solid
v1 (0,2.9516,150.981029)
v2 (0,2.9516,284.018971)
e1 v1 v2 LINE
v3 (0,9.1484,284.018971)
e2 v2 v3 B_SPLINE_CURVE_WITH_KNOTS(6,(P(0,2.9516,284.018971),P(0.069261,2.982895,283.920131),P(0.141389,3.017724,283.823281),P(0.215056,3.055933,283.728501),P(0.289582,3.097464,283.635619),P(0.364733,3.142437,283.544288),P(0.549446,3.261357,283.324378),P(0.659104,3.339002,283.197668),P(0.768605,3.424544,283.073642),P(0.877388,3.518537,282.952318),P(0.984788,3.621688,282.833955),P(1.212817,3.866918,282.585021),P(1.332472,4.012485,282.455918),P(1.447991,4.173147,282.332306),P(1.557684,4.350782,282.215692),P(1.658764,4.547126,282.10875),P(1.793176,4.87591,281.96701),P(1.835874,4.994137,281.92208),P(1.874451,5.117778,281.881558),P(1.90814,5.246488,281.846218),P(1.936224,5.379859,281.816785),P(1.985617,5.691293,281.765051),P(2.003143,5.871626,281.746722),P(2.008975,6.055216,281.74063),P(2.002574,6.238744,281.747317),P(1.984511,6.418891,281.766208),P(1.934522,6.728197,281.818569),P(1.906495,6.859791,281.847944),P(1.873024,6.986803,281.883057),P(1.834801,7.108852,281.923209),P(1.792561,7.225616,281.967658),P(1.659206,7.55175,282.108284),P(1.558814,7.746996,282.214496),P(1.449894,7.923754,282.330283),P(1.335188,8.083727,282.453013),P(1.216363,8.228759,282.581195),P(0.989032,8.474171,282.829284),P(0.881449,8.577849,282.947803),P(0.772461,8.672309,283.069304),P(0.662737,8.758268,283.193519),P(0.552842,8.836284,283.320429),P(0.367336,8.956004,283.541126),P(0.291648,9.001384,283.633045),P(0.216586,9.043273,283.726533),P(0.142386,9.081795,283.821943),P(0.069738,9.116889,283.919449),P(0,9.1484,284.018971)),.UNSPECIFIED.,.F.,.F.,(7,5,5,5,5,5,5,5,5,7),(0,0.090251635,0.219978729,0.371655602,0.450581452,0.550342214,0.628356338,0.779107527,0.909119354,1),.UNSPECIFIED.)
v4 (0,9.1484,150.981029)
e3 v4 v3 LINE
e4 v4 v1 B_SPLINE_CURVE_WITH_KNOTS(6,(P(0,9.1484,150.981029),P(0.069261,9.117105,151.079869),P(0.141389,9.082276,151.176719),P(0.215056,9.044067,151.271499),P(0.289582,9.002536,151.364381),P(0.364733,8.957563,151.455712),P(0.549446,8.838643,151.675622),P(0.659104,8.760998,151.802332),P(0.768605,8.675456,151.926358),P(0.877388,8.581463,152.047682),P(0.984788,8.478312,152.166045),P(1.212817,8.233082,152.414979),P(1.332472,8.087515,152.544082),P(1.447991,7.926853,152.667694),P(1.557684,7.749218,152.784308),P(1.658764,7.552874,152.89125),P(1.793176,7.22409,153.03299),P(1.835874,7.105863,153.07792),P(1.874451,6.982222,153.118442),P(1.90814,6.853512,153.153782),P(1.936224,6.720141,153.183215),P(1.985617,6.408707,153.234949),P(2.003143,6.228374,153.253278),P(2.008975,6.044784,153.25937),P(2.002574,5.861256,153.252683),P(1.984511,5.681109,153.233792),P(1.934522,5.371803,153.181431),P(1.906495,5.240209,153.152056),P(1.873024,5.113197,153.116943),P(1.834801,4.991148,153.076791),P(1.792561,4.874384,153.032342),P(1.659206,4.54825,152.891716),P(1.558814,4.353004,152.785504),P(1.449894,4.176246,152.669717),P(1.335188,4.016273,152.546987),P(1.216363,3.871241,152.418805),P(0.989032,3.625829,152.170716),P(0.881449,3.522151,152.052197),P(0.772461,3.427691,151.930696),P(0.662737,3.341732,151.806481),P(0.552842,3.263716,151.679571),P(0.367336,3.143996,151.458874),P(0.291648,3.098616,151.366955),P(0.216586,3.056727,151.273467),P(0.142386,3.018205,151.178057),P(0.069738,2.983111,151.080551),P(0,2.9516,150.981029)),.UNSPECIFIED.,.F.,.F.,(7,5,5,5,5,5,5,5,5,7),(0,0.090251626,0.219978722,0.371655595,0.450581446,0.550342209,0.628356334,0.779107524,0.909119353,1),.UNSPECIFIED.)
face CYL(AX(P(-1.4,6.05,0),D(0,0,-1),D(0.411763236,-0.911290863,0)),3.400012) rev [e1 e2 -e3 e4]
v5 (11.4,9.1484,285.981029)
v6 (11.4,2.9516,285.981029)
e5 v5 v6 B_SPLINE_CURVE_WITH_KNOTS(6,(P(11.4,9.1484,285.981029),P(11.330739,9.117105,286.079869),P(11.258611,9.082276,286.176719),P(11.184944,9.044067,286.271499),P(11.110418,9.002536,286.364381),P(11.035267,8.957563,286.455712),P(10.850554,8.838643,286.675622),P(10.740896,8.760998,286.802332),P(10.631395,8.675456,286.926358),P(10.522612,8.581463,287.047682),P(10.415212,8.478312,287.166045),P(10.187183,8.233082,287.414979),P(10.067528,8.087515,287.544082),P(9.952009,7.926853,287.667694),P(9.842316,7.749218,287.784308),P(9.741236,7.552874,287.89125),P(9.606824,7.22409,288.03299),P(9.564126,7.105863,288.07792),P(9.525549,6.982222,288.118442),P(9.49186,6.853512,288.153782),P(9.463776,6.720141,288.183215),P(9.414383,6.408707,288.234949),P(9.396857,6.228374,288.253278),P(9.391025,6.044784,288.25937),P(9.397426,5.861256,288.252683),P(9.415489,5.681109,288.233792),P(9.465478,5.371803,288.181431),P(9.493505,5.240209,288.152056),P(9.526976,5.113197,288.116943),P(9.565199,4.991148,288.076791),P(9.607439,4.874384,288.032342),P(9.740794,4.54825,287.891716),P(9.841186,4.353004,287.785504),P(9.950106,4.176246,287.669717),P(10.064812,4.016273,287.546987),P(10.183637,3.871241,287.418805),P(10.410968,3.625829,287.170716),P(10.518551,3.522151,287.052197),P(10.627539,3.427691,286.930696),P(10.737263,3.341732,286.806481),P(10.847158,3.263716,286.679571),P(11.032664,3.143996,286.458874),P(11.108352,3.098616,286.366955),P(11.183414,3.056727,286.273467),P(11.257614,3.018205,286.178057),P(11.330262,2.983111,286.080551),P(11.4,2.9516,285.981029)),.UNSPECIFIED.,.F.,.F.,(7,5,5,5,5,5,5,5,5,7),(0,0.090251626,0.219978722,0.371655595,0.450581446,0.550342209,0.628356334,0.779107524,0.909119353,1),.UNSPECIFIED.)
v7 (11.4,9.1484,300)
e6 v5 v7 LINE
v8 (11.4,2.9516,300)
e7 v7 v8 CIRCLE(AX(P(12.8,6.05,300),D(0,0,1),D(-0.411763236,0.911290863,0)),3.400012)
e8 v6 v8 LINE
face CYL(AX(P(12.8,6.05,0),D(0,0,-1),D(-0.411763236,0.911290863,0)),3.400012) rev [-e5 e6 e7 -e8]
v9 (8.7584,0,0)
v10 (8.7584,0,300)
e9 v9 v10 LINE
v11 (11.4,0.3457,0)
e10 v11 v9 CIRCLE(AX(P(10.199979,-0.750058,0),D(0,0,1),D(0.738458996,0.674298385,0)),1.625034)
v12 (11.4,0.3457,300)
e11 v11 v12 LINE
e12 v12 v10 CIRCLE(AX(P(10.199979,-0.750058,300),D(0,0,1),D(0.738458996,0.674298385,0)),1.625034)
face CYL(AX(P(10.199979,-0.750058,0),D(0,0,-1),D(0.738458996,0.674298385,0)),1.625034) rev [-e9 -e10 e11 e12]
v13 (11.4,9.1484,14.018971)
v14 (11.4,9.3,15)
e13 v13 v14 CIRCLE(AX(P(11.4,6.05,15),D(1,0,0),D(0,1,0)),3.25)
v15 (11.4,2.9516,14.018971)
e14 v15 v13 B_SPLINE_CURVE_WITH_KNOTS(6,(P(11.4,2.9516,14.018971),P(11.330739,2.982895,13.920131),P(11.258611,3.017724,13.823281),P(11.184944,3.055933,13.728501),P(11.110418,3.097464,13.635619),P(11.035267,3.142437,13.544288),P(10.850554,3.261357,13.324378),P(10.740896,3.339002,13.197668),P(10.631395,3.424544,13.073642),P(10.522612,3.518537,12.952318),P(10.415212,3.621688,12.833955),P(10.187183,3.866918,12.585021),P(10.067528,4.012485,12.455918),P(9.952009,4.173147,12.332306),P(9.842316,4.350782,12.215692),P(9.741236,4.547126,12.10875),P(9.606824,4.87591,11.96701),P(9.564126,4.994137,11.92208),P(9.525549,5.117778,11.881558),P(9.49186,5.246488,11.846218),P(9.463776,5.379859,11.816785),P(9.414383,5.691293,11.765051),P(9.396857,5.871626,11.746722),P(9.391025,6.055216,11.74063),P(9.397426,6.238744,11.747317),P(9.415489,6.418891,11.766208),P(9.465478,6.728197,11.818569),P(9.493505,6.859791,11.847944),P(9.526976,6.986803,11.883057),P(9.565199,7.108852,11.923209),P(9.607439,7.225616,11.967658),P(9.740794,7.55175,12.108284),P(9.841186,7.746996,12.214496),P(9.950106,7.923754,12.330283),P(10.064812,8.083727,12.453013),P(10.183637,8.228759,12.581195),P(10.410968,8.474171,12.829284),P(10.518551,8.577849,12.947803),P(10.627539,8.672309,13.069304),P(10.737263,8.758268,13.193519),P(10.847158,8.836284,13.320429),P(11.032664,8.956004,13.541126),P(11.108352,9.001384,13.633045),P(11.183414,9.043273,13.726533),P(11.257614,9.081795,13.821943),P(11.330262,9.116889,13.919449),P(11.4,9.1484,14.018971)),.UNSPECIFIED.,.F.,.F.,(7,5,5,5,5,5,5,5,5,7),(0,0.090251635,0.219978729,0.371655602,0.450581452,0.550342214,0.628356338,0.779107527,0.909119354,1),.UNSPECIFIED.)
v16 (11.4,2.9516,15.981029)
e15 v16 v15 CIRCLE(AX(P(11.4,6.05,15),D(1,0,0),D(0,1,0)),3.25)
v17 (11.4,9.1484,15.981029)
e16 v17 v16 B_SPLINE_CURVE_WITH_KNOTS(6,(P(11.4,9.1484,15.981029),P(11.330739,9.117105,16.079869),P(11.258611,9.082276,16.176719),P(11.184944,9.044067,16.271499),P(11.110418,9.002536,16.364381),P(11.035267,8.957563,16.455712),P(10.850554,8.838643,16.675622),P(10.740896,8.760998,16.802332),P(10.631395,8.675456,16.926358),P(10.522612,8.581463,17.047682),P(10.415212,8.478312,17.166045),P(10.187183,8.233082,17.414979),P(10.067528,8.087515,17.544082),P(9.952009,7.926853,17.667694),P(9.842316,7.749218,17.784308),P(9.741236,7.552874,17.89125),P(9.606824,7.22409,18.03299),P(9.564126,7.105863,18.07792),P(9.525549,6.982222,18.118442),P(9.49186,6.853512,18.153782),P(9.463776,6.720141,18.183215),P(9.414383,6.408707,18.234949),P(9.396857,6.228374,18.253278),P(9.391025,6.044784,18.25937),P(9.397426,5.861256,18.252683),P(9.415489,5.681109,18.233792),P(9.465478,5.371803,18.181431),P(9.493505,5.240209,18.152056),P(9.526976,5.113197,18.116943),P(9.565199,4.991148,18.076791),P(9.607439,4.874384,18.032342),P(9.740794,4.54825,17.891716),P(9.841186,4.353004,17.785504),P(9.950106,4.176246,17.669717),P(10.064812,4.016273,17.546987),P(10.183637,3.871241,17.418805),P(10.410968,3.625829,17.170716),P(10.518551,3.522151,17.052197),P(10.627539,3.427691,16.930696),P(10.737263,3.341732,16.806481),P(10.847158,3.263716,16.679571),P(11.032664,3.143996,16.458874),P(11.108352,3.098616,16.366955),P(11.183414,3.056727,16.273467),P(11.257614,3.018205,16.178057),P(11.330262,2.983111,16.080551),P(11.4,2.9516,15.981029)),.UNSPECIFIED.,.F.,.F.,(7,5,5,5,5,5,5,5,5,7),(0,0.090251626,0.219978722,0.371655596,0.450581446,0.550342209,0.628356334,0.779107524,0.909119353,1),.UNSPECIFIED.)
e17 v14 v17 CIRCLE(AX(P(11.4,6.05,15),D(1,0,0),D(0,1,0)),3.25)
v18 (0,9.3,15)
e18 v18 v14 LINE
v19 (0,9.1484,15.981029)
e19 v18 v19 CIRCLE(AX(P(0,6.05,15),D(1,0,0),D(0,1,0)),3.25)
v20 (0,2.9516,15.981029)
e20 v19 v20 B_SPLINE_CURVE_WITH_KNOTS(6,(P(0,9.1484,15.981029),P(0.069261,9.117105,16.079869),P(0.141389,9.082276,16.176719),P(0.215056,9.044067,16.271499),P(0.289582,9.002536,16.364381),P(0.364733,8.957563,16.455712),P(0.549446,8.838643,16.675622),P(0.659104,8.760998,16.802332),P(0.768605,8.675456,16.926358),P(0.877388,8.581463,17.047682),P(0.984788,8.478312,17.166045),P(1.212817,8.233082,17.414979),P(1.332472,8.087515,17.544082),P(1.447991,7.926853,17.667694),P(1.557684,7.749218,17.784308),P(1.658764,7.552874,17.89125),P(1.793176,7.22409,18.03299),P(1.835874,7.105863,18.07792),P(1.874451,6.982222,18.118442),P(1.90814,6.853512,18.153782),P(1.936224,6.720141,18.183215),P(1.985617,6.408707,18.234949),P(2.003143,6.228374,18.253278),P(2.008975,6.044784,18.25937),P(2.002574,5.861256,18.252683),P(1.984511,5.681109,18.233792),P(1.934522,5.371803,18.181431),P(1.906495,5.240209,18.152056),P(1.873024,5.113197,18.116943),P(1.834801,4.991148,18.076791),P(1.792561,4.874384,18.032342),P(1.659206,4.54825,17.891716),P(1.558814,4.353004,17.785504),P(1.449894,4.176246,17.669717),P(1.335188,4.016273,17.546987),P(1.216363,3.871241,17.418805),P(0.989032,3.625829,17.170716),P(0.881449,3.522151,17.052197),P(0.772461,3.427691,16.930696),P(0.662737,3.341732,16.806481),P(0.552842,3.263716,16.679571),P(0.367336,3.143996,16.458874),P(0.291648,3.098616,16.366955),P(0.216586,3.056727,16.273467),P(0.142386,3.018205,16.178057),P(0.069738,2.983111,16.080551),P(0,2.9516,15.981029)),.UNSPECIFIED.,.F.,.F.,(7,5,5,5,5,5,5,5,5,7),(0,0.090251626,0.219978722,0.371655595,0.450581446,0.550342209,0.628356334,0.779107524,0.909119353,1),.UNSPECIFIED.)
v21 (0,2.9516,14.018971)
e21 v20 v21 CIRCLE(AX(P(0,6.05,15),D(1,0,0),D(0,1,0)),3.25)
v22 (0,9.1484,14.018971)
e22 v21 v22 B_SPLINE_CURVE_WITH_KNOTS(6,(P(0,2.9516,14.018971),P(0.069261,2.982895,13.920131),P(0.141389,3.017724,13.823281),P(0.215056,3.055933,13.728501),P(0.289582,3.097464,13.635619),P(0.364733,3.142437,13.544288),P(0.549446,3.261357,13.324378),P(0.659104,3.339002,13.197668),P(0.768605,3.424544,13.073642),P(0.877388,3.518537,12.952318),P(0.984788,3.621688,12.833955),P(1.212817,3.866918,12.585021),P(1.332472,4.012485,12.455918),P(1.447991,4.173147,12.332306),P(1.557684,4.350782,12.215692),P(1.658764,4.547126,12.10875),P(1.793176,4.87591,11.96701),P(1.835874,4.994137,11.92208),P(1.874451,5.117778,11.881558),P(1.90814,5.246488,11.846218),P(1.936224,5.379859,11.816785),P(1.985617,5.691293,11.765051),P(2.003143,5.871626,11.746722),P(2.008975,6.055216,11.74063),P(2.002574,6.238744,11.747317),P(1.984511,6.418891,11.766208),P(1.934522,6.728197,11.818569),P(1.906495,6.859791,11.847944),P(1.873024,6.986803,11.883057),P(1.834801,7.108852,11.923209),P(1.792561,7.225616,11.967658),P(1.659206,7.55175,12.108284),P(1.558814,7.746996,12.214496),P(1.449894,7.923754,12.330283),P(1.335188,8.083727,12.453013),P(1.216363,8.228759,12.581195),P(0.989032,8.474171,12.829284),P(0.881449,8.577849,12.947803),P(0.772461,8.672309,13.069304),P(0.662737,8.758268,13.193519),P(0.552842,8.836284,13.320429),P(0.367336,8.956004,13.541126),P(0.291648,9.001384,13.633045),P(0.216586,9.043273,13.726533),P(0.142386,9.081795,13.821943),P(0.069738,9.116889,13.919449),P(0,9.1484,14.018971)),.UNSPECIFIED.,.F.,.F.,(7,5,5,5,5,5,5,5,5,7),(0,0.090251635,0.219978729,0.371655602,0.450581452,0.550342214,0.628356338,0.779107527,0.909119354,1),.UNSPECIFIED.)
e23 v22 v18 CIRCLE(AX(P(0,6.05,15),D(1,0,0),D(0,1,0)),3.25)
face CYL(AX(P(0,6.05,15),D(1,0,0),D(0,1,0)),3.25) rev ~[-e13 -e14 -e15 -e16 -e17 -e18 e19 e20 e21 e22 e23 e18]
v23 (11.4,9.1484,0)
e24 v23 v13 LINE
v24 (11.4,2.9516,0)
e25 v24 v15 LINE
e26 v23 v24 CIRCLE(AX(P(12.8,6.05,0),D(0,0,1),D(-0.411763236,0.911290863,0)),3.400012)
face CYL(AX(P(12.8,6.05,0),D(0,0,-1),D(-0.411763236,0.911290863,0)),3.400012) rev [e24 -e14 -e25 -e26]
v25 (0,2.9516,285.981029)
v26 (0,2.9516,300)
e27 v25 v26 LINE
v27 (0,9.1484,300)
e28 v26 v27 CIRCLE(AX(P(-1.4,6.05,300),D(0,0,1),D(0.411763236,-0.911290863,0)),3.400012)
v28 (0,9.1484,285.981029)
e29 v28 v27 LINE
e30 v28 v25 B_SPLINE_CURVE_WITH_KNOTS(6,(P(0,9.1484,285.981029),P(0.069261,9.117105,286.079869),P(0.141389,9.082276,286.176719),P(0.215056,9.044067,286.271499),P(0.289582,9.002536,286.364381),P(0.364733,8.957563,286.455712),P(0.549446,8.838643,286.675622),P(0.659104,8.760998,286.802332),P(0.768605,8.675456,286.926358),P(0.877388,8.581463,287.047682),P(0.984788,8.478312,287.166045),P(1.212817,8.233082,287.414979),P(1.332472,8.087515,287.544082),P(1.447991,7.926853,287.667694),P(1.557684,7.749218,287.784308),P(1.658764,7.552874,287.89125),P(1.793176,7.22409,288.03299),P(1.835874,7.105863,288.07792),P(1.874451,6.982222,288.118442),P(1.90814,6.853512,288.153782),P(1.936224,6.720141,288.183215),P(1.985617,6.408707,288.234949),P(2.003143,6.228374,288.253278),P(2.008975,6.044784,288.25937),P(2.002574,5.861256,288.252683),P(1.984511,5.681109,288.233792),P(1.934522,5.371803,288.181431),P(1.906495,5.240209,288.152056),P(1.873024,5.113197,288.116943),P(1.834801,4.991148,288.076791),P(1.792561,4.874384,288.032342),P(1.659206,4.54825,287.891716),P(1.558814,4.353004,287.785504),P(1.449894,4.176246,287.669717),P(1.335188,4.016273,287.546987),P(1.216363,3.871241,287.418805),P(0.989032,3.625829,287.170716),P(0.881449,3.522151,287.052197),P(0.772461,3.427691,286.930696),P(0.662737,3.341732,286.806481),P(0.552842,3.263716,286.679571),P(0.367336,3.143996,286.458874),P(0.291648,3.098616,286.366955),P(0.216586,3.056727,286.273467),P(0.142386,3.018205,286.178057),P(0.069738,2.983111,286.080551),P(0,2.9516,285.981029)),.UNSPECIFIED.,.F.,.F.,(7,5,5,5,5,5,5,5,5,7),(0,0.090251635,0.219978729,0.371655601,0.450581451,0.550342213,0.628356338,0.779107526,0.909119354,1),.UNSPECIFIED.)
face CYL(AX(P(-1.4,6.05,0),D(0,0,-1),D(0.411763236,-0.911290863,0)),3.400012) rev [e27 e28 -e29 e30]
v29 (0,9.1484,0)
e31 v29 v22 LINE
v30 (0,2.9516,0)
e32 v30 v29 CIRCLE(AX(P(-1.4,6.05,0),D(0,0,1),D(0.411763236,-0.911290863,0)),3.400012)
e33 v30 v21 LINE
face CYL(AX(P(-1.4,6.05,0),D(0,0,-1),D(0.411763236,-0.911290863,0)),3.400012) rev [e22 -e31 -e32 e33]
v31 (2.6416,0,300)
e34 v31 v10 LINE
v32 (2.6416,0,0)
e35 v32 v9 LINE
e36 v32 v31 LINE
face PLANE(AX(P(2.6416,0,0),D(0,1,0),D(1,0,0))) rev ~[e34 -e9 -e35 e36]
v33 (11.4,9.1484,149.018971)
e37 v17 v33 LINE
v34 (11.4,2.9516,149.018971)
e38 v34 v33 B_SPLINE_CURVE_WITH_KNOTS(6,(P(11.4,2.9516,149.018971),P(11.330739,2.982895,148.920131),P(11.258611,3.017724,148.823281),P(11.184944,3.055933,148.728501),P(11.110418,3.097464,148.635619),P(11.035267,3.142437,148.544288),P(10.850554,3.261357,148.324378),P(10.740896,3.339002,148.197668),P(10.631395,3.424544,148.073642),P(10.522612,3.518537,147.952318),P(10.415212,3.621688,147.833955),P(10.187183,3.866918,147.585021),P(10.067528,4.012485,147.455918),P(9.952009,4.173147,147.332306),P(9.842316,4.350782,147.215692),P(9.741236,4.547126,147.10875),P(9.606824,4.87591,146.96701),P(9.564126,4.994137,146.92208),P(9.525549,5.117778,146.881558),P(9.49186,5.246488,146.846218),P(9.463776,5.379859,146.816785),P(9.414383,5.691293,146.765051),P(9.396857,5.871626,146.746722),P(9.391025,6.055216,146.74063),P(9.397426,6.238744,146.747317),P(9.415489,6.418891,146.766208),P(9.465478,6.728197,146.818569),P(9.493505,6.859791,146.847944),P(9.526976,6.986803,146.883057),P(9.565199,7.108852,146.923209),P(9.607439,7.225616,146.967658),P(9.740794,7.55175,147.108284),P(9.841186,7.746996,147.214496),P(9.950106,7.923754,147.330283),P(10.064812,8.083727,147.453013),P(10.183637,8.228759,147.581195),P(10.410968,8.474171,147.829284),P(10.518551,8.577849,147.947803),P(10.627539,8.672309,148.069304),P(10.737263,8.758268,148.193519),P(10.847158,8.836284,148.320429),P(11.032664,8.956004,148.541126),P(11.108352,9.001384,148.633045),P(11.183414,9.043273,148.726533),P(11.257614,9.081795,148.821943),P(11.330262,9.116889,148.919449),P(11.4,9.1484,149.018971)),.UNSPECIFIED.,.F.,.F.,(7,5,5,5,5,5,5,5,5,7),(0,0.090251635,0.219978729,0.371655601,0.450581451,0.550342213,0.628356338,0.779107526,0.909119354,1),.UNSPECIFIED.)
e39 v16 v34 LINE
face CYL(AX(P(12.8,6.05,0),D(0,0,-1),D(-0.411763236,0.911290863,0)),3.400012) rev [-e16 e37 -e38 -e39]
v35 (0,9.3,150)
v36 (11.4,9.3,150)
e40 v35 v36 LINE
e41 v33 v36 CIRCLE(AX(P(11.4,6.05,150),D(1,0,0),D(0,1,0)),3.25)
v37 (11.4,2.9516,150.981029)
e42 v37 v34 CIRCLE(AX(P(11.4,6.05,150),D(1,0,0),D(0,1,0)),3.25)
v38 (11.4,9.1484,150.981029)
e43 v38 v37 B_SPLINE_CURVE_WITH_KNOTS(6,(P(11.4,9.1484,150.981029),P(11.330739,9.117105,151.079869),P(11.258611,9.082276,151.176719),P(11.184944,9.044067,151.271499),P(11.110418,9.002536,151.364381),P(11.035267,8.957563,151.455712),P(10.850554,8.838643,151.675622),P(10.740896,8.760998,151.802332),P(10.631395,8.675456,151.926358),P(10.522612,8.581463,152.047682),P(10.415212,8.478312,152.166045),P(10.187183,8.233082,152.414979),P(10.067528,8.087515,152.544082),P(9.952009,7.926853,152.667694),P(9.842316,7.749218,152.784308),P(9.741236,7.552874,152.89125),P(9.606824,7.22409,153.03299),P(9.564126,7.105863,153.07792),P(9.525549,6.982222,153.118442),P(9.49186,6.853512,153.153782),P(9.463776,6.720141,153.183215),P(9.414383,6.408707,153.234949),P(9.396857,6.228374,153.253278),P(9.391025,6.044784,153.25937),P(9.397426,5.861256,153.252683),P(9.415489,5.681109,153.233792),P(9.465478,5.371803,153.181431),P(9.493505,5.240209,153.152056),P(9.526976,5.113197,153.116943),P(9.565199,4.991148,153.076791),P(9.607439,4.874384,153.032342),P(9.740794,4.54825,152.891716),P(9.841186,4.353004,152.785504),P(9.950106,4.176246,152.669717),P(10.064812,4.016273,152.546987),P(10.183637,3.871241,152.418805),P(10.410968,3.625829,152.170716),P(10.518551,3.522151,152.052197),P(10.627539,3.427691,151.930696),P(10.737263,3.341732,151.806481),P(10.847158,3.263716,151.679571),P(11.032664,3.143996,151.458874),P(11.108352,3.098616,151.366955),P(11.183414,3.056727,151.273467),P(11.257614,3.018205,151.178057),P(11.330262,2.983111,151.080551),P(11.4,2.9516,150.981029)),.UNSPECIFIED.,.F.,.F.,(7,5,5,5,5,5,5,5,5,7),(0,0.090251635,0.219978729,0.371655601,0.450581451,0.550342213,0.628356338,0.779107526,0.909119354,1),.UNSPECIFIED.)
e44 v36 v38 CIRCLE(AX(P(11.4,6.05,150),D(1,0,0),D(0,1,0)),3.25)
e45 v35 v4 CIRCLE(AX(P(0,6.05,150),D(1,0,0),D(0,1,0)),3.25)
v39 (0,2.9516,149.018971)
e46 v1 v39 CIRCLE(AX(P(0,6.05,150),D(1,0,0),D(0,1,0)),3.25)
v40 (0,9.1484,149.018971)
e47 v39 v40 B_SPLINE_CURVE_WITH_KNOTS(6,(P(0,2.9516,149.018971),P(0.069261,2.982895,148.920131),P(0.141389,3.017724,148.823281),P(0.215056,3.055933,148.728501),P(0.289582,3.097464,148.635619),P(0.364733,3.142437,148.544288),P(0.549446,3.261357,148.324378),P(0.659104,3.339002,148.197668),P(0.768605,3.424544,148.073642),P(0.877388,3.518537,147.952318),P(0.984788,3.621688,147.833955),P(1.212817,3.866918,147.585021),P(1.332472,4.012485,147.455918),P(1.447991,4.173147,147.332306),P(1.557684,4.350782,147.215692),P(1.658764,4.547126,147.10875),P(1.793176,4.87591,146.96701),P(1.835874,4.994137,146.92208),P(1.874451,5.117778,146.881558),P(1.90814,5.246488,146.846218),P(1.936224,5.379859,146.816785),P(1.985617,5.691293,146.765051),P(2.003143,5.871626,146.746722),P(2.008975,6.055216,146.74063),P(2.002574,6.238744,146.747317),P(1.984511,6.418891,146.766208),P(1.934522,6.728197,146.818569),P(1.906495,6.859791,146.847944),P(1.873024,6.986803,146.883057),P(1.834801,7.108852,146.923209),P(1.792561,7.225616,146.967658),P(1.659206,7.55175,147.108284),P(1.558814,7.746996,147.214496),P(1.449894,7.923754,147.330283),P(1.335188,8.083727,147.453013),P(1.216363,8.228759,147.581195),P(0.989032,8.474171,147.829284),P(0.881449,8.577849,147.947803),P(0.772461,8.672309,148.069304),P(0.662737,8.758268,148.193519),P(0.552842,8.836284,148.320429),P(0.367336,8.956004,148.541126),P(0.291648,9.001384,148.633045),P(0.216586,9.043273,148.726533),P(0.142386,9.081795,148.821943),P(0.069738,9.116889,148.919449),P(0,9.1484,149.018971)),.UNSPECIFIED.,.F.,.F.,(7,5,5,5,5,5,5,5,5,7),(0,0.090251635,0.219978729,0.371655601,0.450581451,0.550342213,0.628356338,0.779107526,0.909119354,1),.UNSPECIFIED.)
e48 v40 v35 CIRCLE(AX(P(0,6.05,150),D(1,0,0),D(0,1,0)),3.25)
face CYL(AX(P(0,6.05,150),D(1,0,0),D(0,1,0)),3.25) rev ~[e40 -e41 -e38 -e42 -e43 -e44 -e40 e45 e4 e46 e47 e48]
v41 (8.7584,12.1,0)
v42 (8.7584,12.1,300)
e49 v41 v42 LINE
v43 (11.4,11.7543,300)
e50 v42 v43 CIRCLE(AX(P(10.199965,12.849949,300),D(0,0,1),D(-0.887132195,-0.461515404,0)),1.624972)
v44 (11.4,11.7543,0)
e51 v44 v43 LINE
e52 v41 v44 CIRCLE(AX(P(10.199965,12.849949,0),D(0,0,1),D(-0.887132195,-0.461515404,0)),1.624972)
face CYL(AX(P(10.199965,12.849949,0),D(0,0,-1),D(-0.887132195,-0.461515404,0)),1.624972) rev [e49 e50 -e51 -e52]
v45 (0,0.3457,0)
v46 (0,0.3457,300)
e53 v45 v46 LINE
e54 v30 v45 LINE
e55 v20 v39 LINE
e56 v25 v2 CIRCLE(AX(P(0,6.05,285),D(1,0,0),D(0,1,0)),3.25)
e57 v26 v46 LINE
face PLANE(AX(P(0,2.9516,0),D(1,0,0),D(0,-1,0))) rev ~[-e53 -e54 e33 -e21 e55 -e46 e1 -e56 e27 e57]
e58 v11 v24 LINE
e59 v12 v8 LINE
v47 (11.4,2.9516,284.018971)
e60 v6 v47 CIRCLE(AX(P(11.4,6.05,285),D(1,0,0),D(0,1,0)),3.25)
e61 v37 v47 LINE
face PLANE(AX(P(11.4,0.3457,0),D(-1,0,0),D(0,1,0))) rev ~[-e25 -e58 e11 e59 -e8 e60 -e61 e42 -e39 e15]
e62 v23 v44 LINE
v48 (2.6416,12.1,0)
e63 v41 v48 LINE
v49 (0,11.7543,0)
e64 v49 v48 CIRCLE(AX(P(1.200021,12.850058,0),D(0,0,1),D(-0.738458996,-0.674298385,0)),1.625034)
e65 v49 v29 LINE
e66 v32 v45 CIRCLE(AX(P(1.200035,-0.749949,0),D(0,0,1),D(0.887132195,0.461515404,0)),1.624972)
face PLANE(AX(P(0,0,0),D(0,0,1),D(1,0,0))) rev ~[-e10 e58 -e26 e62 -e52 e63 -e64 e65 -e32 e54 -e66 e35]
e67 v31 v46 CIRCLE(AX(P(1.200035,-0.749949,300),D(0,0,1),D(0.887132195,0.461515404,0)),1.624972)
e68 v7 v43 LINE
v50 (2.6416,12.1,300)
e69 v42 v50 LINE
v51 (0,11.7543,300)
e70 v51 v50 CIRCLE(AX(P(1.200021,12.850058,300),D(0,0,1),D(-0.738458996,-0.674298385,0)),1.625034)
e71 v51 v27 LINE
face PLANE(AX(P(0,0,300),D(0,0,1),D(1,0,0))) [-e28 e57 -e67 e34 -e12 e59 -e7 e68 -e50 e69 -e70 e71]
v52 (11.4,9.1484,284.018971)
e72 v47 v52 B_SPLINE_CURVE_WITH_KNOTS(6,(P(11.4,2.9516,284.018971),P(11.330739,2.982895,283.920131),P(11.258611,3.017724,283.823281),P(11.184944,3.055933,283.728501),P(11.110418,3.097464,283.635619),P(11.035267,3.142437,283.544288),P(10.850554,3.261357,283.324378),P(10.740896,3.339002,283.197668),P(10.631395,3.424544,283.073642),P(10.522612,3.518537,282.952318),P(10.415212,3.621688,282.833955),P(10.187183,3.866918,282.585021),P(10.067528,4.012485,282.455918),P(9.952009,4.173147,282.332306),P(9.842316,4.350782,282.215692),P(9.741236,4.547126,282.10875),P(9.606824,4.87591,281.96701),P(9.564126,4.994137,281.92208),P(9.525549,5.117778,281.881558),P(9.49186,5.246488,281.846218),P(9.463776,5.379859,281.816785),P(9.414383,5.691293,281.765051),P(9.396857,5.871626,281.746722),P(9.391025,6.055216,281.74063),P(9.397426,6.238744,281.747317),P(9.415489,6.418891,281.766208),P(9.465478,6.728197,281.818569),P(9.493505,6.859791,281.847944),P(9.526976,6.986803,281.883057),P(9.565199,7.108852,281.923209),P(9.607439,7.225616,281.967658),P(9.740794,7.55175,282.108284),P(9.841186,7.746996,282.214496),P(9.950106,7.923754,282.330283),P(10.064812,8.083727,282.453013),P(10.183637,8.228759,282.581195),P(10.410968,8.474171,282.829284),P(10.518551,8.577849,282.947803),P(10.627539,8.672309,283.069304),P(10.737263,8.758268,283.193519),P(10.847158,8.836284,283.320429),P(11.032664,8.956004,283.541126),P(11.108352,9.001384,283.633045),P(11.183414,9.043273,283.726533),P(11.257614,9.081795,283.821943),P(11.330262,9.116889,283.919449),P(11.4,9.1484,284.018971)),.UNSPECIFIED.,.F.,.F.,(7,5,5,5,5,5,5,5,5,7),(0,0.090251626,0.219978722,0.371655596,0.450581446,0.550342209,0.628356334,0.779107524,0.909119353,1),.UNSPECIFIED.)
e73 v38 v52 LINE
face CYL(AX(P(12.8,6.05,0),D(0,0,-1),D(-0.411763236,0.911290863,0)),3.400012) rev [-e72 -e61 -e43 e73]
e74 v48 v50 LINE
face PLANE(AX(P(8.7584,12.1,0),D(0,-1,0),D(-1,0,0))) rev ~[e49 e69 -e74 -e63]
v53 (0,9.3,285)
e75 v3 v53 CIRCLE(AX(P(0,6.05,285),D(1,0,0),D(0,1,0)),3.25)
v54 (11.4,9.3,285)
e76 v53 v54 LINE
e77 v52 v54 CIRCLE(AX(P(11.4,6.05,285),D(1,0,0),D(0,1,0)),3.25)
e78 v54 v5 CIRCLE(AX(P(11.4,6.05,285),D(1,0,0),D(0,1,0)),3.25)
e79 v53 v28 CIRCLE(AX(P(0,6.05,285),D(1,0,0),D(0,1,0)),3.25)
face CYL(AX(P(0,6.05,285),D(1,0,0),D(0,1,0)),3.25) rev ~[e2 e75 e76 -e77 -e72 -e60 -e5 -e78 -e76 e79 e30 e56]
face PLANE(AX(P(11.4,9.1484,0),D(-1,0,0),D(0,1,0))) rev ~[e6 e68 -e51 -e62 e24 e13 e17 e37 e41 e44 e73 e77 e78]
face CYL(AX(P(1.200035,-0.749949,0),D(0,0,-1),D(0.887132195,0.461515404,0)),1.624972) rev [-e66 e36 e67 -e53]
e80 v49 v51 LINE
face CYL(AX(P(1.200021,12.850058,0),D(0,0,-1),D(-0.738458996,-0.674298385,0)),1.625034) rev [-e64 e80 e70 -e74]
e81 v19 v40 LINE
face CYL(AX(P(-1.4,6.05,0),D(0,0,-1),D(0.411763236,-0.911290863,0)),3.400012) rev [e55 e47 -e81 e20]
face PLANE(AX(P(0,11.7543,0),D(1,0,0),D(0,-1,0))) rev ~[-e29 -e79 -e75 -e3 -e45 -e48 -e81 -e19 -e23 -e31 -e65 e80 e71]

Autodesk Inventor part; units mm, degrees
sketch "Sketch_1" plane through (0, 0, 0) normal (0, 0, 1) x (1, 0, 0)
  line L0 (0, 2.9516) -> (0, 0.3457)
  arc A0 (2.6416, 0) -> (0, 0.3457) centre (1.2, -0.75) ccw
  line L1 (2.6416, 0) -> (8.7584, 0)
  arc A1 (11.4, 0.3457) -> (8.7584, 0) centre (10.2, -0.75) ccw
  line L2 (11.4, 0.3457) -> (11.4, 2.9516)
  arc A2 (11.4, 9.1484) -> (11.4, 2.9516) centre (12.8, 6.05) ccw
  line L3 (11.4, 9.1484) -> (11.4, 11.7543)
  arc A3 (8.7584, 12.1) -> (11.4, 11.7543) centre (10.2, 12.85) ccw
  line L4 (8.7584, 12.1) -> (2.6416, 12.1)
  arc A4 (0, 11.7543) -> (2.6416, 12.1) centre (1.2, 12.85) ccw
  line L5 (0, 11.7543) -> (0, 9.1484)
  arc A5 (0, 2.9516) -> (0, 9.1484) centre (-1.4, 6.05) ccw
extrude "Extrusion1" add sketch "Sketch_1" along normal blind 300
sketch "Sketch_3" plane through (0, 0, 15) normal (0, 0, 1) x (1, 0, 0)
  line L0 (11.4, 6.05) -> (0, 6.05)
  line L1 (0, 6.05) -> (0, 9.3)
  line L2 (0, 9.3) -> (11.4, 9.3)
  line L3 (11.4, 9.3) -> (11.4, 6.05)
  line L4 (11.4, 6.05) -> (0, 6.05)
revolve "Revolution1" cut sketch "Sketch_3" angle 360 about axis through (11.4, 6.05, 15) along (1, 0, 0)
pattern_linear "Rectangular Pattern1" count 3 spacing 135 along (0, 0, 1) of "Revolution1"
ref_plane "to_ball_1_XY" through (1.2, -0.75, 109.375) normal (0, 0, 1) x (1, 0, 0)
ref_plane "to_ball_1_YZ" through (1.2, -0.75, 109.375) normal (1, 0, 0) x (0, 1, 0)
ref_plane "to_ball_1_ZX" through (1.2, -0.75, 109.375) normal (0, 1, 0) x (0, 0, 1)
ref_plane "to_ball_2_XY" through (10.2, -0.75, 109.375) normal (0, 0, 1) x (1, 0, 0)
ref_plane "to_ball_2_YZ" through (10.2, -0.75, 109.375) normal (1, 0, 0) x (0, 1, 0)
ref_plane "to_ball_2_ZX" through (10.2, -0.75, 109.375) normal (0, 1, 0) x (0, 0, 1)
ref_plane "to_ball_3_XY" through (1.2, 12.85, 109.375) normal (0, 0, 1) x (1, 0, 0)
ref_plane "to_ball_3_YZ" through (1.2, 12.85, 109.375) normal (1, 0, 0) x (0, 1, 0)
ref_plane "to_ball_3_ZX" through (1.2, 12.85, 109.375) normal (0, 1, 0) x (0, 0, 1)
ref_plane "to_ball_4_XY" through (10.2, 12.85, 109.375) normal (0, 0, 1) x (1, 0, 0)
ref_plane "to_ball_4_YZ" through (10.2, 12.85, 109.375) normal (1, 0, 0) x (0, 1, 0)
ref_plane "to_ball_4_ZX" through (10.2, 12.85, 109.375) normal (0, 1, 0) x (0, 0, 1)
ref_plane "to_body_XY" through (5.6, 6.05, 150) normal (0, 0, 1) x (1, 0, 0)
ref_plane "to_body_YZ" through (5.6, 6.05, 150) normal (1, 0, 0) x (0, 1, 0)
ref_plane "to_body_ZX" through (5.6, 6.05, 150) normal (0, 1, 0) x (0, 0, 1)
ref_plane "to_body2_XY" through (5.8, 6.05, 150) normal (0, 0, 1) x (1, 0, 0)
ref_plane "to_body2_YZ" through (5.8, 6.05, 150) normal (1, 0, 0) x (0, 1, 0)
ref_plane "to_body2_ZX" through (5.8, 6.05, 150) normal (0, 1, 0) x (0, 0, 1)
properties part number "SAR330-30_r" material "Aluminum 6061"
